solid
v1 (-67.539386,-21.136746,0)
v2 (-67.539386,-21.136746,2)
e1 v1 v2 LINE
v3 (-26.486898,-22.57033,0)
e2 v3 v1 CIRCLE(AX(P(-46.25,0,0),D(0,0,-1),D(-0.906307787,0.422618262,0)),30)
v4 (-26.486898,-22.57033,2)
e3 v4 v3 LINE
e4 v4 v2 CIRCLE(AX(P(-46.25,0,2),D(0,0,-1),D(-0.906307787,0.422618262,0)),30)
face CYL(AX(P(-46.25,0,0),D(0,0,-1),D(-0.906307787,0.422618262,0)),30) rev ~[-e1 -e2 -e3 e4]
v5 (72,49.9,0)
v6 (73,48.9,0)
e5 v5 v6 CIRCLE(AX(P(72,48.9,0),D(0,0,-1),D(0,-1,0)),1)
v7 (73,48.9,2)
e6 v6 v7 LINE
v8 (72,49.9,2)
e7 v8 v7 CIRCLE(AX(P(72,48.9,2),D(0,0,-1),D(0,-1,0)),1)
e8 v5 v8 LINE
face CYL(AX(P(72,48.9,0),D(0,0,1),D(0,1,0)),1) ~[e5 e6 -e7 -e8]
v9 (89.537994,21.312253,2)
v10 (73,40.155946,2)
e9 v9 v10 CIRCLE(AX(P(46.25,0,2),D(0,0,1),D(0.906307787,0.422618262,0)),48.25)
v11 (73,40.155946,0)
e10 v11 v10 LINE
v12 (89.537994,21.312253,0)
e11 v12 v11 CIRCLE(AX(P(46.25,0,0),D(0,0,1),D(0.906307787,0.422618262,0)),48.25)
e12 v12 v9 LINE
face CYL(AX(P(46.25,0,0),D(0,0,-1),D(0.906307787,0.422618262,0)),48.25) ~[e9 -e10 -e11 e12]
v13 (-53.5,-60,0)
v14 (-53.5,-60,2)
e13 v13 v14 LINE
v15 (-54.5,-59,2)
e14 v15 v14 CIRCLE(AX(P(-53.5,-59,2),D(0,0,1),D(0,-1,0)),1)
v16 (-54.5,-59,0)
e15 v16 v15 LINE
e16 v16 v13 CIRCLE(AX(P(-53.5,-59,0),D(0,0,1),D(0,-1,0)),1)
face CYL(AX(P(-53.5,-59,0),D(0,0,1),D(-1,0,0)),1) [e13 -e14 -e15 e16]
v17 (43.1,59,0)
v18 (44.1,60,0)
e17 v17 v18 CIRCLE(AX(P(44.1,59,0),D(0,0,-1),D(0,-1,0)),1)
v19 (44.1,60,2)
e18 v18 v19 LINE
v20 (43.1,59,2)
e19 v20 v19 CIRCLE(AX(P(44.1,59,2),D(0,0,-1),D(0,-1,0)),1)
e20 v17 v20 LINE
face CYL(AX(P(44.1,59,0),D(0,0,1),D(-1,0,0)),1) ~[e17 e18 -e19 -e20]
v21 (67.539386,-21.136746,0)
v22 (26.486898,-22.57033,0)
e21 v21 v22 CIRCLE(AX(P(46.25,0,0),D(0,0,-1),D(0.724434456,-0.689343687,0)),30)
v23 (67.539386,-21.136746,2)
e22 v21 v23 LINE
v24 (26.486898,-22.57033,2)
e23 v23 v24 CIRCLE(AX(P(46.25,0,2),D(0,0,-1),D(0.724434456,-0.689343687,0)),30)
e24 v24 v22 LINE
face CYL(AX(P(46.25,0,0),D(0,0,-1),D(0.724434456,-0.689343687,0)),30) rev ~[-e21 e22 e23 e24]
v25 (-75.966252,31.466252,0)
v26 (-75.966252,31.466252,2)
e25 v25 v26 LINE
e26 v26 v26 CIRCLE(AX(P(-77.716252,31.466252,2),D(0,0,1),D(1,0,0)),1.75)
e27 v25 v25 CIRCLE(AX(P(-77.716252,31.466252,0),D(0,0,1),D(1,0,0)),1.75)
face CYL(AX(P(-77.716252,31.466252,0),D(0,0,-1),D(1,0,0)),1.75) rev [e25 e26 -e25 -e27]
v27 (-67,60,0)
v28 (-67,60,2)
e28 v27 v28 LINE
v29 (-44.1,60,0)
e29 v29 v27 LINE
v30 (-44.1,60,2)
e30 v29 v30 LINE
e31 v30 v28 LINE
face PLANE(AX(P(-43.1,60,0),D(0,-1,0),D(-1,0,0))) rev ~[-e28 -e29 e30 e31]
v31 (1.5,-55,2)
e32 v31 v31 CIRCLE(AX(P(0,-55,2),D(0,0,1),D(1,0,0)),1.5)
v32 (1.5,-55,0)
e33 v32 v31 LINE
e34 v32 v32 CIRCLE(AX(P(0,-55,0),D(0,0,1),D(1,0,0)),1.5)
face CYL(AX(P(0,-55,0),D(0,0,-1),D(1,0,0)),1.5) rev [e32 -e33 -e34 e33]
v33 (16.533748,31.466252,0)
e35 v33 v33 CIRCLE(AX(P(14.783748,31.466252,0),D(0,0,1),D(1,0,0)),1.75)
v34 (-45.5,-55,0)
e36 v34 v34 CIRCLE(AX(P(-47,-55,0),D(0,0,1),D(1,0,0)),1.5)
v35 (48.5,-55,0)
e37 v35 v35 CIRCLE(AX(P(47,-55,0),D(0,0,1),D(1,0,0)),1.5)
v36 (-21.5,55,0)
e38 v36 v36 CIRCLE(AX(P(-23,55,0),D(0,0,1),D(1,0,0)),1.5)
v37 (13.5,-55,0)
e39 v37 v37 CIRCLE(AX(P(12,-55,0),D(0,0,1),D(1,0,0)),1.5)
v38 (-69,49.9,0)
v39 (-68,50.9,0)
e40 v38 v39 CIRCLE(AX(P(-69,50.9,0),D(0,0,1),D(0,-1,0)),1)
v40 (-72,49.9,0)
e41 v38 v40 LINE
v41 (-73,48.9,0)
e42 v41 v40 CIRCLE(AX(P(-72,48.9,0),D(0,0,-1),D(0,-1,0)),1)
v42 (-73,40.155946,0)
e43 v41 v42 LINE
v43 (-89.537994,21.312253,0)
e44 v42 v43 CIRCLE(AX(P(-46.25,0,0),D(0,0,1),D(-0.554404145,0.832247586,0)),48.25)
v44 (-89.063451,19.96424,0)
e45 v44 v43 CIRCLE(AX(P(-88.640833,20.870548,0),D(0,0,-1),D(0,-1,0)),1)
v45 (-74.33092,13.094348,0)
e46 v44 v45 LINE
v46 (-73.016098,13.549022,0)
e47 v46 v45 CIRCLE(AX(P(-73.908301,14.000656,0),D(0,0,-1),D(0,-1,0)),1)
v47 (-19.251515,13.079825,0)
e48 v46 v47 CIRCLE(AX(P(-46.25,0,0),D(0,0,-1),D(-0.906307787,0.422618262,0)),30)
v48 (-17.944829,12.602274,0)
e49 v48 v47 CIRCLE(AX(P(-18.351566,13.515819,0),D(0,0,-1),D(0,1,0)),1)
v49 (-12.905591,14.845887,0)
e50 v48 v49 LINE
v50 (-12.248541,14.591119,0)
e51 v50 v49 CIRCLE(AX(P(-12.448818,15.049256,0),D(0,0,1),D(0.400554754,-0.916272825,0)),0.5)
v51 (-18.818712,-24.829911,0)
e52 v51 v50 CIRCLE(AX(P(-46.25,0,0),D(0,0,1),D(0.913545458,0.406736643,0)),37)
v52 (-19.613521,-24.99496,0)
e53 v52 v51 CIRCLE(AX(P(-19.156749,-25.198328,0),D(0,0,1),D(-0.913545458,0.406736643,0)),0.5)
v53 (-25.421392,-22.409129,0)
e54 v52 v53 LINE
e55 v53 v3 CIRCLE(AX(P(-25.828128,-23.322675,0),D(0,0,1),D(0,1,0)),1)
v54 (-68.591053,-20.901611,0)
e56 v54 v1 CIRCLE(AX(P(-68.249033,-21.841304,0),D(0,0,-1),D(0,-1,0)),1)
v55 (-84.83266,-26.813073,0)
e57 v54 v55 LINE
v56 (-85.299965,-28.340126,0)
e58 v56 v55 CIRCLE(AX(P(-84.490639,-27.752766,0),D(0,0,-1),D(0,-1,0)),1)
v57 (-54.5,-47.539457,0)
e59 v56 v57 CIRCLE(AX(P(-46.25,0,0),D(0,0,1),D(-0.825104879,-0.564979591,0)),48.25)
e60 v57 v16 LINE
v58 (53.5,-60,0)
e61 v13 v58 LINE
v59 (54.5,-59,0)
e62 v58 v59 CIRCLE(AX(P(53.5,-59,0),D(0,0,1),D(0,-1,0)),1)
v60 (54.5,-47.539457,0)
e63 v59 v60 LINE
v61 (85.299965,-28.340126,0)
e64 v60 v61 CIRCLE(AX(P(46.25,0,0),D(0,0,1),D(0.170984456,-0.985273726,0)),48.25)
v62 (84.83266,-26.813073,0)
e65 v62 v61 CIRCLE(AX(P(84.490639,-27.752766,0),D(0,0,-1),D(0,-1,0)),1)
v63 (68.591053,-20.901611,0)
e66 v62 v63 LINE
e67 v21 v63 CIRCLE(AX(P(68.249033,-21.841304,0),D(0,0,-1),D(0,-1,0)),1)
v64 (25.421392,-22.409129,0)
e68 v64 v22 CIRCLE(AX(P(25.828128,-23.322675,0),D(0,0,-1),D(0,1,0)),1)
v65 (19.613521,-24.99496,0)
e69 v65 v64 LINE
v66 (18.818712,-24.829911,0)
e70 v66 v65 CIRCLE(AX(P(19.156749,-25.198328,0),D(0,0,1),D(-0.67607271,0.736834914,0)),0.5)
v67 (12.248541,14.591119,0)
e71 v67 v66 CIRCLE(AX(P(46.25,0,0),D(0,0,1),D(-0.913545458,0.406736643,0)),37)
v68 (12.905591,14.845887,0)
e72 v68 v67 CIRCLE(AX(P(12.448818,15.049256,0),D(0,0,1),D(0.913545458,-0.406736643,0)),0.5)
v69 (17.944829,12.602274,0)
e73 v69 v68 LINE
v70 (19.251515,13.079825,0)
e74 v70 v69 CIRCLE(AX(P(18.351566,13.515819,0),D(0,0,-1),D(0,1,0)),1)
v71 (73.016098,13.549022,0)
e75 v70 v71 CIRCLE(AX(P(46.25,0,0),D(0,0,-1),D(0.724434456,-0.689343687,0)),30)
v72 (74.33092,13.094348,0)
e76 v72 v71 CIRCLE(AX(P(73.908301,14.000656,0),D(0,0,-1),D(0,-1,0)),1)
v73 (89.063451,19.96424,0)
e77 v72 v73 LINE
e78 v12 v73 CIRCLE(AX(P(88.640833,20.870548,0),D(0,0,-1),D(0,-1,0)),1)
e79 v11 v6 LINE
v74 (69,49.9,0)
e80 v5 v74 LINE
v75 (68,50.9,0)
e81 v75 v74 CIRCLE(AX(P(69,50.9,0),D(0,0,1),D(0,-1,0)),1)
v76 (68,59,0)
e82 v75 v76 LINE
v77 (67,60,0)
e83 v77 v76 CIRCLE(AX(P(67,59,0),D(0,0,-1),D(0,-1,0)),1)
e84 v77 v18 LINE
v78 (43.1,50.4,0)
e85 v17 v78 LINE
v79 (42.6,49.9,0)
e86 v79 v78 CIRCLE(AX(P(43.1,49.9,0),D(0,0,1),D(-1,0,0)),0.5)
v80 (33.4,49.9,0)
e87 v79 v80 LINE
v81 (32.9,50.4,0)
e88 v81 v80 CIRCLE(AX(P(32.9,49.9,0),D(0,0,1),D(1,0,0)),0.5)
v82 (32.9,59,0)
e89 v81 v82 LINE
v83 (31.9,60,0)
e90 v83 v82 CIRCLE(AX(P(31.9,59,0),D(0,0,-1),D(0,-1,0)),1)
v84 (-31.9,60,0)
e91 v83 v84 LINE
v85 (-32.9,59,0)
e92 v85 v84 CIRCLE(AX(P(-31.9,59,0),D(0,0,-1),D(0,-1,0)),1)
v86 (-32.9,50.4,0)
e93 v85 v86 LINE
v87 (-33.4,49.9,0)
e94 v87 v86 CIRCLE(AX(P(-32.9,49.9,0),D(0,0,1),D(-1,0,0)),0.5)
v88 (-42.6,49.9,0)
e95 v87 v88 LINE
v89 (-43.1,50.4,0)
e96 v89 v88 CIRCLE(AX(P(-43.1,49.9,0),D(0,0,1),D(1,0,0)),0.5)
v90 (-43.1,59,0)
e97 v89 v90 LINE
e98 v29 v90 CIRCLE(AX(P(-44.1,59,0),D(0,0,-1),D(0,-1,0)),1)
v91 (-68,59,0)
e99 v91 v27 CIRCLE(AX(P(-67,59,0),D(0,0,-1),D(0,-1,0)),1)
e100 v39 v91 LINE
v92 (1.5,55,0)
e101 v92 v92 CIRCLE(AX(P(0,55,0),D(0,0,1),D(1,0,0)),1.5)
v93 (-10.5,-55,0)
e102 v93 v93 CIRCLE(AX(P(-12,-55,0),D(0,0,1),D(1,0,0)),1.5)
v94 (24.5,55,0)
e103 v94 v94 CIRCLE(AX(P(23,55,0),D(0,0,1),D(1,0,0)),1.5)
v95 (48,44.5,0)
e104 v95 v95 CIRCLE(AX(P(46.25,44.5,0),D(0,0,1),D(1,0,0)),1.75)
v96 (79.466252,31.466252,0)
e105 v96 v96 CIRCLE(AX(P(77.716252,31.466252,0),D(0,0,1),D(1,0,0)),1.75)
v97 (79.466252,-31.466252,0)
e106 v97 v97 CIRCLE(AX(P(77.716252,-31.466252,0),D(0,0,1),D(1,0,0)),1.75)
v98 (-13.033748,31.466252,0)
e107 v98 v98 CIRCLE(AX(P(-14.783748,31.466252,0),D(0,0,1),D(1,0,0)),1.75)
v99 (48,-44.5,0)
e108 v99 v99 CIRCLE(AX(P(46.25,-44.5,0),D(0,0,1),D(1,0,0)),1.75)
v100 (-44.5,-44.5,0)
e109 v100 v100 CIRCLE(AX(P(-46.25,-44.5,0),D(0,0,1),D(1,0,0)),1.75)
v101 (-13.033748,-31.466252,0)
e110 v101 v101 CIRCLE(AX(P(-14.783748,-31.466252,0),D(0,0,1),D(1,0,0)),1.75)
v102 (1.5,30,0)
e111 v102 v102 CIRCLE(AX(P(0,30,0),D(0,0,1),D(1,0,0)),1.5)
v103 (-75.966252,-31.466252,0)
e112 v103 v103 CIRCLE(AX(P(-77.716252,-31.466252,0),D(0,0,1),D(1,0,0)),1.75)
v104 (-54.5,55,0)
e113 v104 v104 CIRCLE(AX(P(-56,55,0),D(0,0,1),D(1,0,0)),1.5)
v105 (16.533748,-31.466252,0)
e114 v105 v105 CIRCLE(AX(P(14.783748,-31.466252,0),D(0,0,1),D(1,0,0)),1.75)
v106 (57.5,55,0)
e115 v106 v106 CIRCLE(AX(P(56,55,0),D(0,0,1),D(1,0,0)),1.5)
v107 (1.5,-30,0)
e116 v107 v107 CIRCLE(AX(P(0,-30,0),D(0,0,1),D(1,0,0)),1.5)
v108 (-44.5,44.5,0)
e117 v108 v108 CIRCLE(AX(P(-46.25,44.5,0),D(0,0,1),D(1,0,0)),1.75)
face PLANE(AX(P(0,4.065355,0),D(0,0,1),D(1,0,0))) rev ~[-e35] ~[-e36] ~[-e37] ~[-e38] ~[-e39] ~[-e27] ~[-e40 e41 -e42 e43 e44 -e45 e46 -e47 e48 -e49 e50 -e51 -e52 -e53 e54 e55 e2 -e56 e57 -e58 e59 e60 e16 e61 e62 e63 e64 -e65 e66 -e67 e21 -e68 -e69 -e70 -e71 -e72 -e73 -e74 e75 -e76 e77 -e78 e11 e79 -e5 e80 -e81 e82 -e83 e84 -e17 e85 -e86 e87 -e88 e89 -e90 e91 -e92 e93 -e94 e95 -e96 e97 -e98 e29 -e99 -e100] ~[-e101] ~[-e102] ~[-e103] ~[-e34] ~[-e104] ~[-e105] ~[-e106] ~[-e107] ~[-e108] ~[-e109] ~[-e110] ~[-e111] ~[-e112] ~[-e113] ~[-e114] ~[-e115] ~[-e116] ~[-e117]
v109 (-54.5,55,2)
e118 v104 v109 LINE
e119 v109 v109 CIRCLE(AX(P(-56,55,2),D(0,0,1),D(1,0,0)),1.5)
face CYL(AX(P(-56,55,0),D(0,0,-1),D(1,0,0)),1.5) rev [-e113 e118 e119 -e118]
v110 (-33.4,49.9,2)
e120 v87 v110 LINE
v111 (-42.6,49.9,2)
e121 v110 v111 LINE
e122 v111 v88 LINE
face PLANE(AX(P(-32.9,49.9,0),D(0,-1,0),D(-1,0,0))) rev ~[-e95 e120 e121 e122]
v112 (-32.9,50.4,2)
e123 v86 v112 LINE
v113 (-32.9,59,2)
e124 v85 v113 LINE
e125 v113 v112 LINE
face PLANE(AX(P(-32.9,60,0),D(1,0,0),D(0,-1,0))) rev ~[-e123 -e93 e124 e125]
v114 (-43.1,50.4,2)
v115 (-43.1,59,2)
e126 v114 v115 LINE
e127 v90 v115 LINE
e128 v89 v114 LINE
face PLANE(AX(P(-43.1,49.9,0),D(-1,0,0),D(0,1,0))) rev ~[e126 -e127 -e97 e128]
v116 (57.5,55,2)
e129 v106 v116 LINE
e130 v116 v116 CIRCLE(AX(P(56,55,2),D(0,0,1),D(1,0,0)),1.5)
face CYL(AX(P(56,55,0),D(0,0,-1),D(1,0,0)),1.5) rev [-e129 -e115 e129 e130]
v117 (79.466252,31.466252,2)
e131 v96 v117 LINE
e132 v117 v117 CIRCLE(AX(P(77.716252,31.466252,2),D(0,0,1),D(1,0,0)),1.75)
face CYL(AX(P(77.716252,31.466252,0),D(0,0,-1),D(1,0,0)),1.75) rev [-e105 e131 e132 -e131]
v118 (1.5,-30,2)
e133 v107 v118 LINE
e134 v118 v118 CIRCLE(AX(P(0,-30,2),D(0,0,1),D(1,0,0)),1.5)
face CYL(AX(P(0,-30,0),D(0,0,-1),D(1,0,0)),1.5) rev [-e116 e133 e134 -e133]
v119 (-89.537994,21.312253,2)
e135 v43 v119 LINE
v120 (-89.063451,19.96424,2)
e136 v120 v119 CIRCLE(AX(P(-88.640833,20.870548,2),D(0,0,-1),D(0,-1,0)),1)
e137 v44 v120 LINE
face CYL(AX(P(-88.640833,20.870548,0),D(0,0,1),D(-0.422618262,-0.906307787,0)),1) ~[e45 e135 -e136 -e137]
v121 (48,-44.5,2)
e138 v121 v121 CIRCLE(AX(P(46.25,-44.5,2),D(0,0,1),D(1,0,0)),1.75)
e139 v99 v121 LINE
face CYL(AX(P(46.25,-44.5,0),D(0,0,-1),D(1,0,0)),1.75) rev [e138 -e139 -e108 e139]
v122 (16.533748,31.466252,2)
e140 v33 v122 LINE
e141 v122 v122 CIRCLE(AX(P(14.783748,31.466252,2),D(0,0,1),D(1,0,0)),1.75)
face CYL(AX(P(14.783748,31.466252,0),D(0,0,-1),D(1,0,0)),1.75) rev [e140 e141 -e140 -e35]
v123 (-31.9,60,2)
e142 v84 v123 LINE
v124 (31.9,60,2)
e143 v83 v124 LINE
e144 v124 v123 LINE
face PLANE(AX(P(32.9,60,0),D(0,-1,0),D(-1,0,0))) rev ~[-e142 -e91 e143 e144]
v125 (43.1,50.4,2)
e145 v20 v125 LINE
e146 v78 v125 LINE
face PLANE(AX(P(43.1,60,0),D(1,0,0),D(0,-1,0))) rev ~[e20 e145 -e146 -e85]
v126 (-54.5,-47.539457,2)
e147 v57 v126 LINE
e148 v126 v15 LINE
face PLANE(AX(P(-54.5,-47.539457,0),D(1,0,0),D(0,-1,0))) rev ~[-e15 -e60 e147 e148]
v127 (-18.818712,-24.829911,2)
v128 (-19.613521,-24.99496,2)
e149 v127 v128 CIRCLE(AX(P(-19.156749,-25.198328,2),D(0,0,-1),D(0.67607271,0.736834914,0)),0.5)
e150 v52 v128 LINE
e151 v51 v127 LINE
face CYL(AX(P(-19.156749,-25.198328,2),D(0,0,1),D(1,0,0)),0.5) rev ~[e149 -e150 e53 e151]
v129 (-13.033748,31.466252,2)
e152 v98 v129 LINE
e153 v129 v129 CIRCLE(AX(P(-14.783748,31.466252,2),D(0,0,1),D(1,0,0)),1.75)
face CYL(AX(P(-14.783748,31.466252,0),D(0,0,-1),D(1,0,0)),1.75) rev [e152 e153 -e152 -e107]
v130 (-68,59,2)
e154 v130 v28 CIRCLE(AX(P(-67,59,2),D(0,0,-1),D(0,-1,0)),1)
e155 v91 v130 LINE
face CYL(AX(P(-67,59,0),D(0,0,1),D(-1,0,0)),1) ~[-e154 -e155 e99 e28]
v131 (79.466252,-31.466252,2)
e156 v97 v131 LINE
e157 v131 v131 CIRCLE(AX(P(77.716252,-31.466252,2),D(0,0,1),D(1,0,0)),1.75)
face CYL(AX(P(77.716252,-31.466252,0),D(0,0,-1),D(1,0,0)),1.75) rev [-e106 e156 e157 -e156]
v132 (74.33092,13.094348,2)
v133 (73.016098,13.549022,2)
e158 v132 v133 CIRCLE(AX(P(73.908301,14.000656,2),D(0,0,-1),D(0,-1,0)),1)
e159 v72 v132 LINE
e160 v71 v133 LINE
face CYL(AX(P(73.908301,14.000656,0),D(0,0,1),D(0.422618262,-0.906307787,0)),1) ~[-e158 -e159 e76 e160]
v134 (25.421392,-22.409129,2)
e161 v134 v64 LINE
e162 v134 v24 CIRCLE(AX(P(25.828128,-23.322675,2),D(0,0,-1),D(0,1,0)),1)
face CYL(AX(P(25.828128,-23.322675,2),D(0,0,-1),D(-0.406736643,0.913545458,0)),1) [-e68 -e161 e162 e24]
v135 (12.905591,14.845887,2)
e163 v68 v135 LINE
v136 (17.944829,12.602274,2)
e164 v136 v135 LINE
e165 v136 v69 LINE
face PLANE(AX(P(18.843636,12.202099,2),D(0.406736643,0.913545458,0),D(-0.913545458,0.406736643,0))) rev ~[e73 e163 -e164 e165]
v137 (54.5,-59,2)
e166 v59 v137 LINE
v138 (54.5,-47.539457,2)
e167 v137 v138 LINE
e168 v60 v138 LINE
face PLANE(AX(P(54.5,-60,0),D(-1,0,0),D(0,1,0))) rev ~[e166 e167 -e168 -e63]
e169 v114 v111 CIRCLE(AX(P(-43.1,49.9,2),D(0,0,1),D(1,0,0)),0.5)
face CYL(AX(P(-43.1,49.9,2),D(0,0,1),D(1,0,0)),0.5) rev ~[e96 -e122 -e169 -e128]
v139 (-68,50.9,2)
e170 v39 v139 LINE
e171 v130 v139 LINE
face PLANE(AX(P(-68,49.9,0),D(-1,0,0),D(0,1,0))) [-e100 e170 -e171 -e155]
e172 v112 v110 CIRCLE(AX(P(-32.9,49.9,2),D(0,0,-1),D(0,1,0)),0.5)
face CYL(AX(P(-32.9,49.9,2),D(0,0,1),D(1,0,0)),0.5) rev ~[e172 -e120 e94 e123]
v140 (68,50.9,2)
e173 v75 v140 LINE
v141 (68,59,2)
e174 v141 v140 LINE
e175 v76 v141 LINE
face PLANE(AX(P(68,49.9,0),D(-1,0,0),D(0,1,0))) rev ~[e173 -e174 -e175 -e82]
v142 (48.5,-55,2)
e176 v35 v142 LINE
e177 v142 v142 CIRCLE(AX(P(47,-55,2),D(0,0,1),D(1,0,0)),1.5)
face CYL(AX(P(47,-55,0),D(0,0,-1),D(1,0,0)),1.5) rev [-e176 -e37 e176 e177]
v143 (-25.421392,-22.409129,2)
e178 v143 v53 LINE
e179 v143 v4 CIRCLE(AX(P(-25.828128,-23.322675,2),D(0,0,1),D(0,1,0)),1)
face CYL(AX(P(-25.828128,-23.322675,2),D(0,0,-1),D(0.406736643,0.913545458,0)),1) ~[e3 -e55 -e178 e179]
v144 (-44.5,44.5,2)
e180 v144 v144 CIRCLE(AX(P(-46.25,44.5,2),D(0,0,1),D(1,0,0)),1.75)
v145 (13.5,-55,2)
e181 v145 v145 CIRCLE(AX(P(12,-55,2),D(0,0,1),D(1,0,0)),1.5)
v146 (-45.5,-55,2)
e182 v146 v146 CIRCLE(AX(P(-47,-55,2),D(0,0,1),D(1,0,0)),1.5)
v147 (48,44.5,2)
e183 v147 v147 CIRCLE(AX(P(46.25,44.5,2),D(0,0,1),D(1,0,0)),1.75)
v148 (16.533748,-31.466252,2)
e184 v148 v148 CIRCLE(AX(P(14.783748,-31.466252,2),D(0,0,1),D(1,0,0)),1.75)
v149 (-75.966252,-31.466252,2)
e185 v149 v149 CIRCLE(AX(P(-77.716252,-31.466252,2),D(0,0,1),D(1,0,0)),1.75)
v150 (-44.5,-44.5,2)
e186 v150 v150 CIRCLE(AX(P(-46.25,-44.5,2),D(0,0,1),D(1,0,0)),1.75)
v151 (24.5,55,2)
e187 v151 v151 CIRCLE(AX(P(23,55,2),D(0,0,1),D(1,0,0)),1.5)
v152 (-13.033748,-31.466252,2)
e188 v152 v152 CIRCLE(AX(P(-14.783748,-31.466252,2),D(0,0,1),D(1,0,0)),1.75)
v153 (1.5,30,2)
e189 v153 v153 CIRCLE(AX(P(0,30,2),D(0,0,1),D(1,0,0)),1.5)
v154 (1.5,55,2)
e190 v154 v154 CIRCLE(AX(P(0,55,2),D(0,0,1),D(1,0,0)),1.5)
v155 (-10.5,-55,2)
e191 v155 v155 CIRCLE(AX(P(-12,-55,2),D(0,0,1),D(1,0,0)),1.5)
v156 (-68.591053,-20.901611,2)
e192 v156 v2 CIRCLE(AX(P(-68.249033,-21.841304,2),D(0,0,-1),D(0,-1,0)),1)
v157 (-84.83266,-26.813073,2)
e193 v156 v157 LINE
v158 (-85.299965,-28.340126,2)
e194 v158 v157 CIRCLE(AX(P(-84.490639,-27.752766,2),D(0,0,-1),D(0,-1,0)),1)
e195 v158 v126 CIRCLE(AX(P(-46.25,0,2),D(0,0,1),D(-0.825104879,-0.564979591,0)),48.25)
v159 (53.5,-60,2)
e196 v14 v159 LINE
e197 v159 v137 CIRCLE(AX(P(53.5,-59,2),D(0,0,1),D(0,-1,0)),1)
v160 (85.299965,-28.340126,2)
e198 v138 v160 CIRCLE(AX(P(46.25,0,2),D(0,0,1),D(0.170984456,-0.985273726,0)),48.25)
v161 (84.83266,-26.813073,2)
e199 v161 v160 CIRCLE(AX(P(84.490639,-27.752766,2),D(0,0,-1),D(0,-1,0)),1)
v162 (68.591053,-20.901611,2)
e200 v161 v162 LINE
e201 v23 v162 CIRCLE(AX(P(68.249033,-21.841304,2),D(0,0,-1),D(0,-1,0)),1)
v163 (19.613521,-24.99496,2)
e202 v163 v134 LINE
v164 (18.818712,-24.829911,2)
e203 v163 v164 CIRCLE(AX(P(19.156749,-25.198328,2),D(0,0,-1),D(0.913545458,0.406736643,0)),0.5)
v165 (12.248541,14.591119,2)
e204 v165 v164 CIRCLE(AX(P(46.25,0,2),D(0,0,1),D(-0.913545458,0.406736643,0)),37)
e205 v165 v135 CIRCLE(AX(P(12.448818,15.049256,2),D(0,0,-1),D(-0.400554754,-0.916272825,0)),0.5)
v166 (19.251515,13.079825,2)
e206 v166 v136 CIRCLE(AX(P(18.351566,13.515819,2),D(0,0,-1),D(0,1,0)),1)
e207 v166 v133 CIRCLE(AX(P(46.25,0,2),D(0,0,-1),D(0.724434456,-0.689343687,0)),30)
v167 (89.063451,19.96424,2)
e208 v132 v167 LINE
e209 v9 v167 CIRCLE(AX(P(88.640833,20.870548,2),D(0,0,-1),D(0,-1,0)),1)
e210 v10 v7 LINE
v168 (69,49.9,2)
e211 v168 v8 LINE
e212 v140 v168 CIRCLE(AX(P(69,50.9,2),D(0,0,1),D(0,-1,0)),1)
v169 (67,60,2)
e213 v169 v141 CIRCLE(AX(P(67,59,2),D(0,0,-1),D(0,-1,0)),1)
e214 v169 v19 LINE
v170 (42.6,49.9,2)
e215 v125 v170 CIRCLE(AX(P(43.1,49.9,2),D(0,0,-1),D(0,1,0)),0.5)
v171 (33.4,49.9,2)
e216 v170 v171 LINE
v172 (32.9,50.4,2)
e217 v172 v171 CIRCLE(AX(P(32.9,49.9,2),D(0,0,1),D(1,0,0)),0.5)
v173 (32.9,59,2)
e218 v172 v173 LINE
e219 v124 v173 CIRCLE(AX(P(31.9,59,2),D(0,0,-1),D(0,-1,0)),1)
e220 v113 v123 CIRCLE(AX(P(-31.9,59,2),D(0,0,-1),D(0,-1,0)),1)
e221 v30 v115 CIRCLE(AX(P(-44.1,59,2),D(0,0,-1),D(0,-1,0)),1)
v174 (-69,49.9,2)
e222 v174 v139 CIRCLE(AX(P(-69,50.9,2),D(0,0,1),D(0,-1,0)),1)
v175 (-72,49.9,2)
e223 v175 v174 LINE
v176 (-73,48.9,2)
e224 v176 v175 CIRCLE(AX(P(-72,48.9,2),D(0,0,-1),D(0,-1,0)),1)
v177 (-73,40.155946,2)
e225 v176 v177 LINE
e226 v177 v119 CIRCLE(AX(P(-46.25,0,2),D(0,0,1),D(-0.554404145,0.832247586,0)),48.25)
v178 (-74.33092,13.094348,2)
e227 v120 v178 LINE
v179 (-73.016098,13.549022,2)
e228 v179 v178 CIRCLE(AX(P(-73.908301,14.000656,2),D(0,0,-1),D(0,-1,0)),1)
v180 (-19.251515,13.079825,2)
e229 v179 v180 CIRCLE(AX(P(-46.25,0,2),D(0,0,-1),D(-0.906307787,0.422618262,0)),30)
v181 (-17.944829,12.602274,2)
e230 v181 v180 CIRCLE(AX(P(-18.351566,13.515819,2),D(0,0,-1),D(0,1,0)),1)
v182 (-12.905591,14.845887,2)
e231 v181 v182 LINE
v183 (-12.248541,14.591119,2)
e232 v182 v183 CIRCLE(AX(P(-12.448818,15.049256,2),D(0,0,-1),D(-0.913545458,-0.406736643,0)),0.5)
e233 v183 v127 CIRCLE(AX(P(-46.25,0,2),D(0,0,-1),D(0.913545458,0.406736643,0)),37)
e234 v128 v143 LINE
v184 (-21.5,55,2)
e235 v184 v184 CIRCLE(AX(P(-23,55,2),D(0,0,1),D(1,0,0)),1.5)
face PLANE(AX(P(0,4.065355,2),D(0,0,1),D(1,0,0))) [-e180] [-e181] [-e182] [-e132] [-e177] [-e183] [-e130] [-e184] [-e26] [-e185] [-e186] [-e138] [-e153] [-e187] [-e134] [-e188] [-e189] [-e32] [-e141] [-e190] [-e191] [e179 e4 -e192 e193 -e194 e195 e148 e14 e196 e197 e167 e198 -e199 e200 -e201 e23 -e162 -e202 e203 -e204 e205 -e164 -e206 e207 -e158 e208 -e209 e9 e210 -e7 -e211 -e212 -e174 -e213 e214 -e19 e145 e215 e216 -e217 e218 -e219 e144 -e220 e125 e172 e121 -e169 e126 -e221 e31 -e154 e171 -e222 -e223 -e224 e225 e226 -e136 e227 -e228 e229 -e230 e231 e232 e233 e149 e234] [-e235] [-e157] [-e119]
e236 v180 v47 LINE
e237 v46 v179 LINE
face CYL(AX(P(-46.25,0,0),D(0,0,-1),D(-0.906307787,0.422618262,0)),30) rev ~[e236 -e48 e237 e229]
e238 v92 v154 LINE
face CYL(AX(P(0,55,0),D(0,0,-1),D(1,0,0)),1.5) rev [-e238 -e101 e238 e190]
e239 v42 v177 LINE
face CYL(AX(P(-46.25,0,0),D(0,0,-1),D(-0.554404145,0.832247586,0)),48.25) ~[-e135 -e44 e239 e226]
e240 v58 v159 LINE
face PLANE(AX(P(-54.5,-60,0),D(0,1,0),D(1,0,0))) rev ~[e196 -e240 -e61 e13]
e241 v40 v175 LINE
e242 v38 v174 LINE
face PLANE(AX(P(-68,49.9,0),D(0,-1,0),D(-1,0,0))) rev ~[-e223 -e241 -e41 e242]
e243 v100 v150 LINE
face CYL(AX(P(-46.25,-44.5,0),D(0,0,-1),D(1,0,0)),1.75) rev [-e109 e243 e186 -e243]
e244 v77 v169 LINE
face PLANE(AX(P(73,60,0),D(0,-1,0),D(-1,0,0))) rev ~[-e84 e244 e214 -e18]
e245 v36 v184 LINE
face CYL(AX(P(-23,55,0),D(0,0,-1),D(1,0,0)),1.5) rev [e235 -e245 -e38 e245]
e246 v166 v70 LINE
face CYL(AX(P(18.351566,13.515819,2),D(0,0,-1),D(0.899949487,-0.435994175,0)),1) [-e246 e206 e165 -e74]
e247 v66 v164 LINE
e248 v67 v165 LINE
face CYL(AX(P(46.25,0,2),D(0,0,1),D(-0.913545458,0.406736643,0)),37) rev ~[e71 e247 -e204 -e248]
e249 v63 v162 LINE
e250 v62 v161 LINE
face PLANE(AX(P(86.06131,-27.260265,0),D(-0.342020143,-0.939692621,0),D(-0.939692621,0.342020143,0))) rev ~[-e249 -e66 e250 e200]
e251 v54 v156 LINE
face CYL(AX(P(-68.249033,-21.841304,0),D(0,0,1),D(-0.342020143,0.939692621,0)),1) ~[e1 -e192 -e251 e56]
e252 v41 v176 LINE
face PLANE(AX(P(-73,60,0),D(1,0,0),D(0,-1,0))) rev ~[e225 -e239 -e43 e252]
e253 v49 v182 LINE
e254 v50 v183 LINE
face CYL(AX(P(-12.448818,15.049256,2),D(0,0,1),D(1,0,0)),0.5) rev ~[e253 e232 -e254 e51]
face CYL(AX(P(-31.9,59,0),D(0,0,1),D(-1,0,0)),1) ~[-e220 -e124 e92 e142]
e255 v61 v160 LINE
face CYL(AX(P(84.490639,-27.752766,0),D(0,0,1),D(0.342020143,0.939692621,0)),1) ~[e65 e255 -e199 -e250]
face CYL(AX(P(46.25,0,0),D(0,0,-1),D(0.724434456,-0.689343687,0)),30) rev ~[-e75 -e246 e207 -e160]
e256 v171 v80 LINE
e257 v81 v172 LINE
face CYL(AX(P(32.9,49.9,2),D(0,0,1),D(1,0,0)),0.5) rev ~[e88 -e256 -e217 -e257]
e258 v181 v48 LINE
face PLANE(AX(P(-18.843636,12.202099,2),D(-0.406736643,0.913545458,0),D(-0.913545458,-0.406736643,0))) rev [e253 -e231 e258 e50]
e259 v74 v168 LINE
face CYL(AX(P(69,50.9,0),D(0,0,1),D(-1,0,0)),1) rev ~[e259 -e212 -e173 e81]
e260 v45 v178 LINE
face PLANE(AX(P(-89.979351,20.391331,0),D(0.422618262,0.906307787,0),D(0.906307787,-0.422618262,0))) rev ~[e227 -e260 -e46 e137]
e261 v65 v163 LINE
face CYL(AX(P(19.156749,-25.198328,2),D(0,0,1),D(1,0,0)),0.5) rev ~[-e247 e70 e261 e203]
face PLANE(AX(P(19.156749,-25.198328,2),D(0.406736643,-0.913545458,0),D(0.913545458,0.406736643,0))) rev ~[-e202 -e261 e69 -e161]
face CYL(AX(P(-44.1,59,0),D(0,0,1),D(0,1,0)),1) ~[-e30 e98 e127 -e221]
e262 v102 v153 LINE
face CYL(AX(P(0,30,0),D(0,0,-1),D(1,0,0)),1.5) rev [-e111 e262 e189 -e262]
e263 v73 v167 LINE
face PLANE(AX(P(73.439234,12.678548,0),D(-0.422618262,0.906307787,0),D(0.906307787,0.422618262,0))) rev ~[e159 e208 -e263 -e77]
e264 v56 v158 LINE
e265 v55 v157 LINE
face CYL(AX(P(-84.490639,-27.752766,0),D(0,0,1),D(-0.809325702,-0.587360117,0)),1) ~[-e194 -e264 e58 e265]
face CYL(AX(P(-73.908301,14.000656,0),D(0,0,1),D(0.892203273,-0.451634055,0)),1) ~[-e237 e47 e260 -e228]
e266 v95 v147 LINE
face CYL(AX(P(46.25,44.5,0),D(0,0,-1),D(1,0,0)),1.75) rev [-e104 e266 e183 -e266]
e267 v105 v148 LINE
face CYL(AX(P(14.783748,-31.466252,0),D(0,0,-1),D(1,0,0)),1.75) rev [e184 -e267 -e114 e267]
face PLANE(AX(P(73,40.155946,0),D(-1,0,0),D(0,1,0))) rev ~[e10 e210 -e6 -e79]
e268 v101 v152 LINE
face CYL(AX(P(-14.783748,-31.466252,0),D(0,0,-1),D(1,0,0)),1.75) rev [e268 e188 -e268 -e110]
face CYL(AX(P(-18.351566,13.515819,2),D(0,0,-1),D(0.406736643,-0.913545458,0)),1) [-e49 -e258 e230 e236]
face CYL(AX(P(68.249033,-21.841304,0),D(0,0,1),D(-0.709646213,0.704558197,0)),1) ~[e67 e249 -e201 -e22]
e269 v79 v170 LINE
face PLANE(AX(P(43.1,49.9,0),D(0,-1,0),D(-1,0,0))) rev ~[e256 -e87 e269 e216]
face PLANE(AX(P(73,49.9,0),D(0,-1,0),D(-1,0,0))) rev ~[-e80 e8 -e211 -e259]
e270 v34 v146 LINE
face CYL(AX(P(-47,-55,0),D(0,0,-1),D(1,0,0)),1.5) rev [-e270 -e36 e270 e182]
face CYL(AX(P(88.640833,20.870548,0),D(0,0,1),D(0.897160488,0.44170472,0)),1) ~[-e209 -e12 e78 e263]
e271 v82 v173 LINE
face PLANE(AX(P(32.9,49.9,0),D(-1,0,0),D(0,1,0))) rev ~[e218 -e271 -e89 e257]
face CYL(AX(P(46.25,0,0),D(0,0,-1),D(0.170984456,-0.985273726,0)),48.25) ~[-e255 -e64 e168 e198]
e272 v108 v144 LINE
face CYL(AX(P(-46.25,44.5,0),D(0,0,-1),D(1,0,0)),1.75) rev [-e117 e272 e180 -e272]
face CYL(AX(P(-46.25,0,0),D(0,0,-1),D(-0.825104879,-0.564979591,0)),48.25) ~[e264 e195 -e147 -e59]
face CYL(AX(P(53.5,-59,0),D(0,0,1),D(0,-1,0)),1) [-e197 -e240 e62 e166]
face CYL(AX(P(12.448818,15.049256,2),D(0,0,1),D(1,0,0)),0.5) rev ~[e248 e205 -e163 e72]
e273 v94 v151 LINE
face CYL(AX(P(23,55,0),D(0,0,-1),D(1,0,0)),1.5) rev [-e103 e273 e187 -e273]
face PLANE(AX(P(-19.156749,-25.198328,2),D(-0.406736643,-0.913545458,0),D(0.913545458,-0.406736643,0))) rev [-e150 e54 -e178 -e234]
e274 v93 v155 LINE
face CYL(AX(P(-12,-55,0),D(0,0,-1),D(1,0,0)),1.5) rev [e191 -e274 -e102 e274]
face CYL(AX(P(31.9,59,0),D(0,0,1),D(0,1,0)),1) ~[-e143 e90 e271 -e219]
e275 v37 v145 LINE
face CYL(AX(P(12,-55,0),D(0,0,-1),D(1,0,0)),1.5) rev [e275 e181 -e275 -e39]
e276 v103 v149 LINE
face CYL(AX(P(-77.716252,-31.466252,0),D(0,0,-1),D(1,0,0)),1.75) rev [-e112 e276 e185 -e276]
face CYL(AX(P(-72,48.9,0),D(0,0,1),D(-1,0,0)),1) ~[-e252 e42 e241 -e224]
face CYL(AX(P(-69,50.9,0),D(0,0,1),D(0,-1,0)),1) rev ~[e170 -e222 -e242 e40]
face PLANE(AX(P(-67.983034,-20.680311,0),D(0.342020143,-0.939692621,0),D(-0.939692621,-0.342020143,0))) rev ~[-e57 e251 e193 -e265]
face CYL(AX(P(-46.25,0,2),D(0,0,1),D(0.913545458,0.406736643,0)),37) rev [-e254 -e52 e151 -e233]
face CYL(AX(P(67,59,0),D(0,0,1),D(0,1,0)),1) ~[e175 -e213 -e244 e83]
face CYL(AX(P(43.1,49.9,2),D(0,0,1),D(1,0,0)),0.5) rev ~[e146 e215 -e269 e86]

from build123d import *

# Parameters (mm, degrees)
SKETCH_1_R          = 1.5
SKETCH_1_R_2        = 1.75
EXTRUDE_1_DEPTH     = 2
CUT_EXTRUDE_3_DEPTH = 10
SKETCH_2_R          = 0.5
CUT_EXTRUDE_1_DEPTH = 10
SKETCH_8_W          = 5
SKETCH_8_H          = 10.1
CUT_EXTRUDE_4_DEPTH = 10
FILLET_2_R          = 1


with BuildPart() as part:
    # 草图1 → 凸台-拉伸1 (new body)
    with BuildSketch(Plane.XY):
        with BuildLine():
            Line((-54.5, -47.539457296), (-54.5, -60))
            Line((-54.5, -60), (54.5, -60))
            Line((54.5, -60), (54.5, -47.539457296))
            ThreePointArc((54.5, -47.539457296), (72.332250623, -40.592840532), (86.061310432, -27.260265254))
            Line((86.061310432, -27.260265254), (67.983033669, -20.680310625))
            ThreePointArc((67.983033669, -20.680310625), (16.643405824, 4.842476776), (73.439233611, 12.678547852))
            Line((73.439233611, 12.678547852), (89.979350725, 20.391331129))
            ThreePointArc((89.979350725, 20.391331129), (82.849108186, 31.441497738), (73, 40.155946011))
            Line((73, 40.155946011), (73, 60))
            Line((73, 60), (43.1, 60))
            Line((43.1, 60), (43.1, 49.9))
            Line((43.1, 49.9), (32.9, 49.9))
            Line((32.9, 49.9), (32.9, 60))
            Line((32.9, 60), (-32.9, 60))
            Line((-32.9, 60), (-32.9, 49.9))
            Line((-32.9, 49.9), (-43.1, 49.9))
            Line((-43.1, 49.9), (-43.1, 60))
            Line((-43.1, 60), (-73, 60))
            Line((-73, 60), (-73, 40.155946011))
            ThreePointArc((-73, 40.155946011), (-82.849108186, 31.441497738), (-89.979350725, 20.391331129))
            Line((-89.979350725, 20.391331129), (-73.439233611, 12.678547852))
            ThreePointArc((-73.439233611, 12.678547852), (-16.643405824, 4.842476776), (-67.983033669, -20.680310625))
            Line((-67.983033669, -20.680310625), (-86.061310432, -27.260265254))
            ThreePointArc((-86.061310432, -27.260265254), (-72.332250623, -40.592840532), (-54.5, -47.539457296))
        make_face()
        with Locations((-47, -55)):
            Circle(SKETCH_1_R, mode=Mode.SUBTRACT)
        with Locations((-77.716251763, -31.466251763)):
            Circle(SKETCH_1_R_2, mode=Mode.SUBTRACT)
        with Locations((-46.25, -44.5)):
            Circle(SKETCH_1_R_2, mode=Mode.SUBTRACT)
        with Locations((-12, -55)):
            Circle(SKETCH_1_R, mode=Mode.SUBTRACT)
        with Locations((-14.783748237, -31.466251763)):
            Circle(SKETCH_1_R_2, mode=Mode.SUBTRACT)
        with Locations((0, -55)):
            Circle(SKETCH_1_R, mode=Mode.SUBTRACT)
        with Locations((12, -55)):
            Circle(SKETCH_1_R, mode=Mode.SUBTRACT)
        with Locations((0, -30)):
            Circle(SKETCH_1_R, mode=Mode.SUBTRACT)
        with Locations((14.783748237, -31.466251763)):
            Circle(SKETCH_1_R_2, mode=Mode.SUBTRACT)
        with Locations((47, -55)):
            Circle(SKETCH_1_R, mode=Mode.SUBTRACT)
        with Locations((46.25, -44.5)):
            Circle(SKETCH_1_R_2, mode=Mode.SUBTRACT)
        with Locations((77.716251763, -31.466251763)):
            Circle(SKETCH_1_R_2, mode=Mode.SUBTRACT)
        with Locations((-77.716251763, 31.466251763)):
            Circle(SKETCH_1_R_2, mode=Mode.SUBTRACT)
        with Locations((-46.25, 44.5)):
            Circle(SKETCH_1_R_2, mode=Mode.SUBTRACT)
        with Locations((-56, 55)):
            Circle(SKETCH_1_R, mode=Mode.SUBTRACT)
        with Locations((-14.783748237, 31.466251763)):
            Circle(SKETCH_1_R_2, mode=Mode.SUBTRACT)
        with Locations((-23, 55)):
            Circle(SKETCH_1_R, mode=Mode.SUBTRACT)
        with Locations((0, 30)):
            Circle(SKETCH_1_R, mode=Mode.SUBTRACT)
        with Locations((14.783748237, 31.466251763)):
            Circle(SKETCH_1_R_2, mode=Mode.SUBTRACT)
        with Locations((0, 55)):
            Circle(SKETCH_1_R, mode=Mode.SUBTRACT)
        with Locations((23, 55)):
            Circle(SKETCH_1_R, mode=Mode.SUBTRACT)
        with Locations((46.25, 44.5)):
            Circle(SKETCH_1_R_2, mode=Mode.SUBTRACT)
        with Locations((77.716251763, 31.466251763)):
            Circle(SKETCH_1_R_2, mode=Mode.SUBTRACT)
        with Locations((56, 55)):
            Circle(SKETCH_1_R, mode=Mode.SUBTRACT)
    extrude(amount=EXTRUDE_1_DEPTH)

    # 草图7 → 切除-拉伸3 (cut)
    with BuildSketch(Plane.XY.offset(2)):
        with BuildLine():
            Line((19.156748699, -25.198327999), (26.012492454, -22.145954221))
            ThreePointArc((26.012492454, -22.145954221), (16.882810612, -6.129289311), (18.843636271, 12.202099292))
            Line((18.843636271, 12.202099292), (12.448818067, 15.049255794))
            ThreePointArc((12.448818067, 15.049255794), (9.753424818, -6.08276253), (19.156748699, -25.198327999))
        make_face()
    cut_extrude_3 = extrude(amount=-CUT_EXTRUDE_3_DEPTH, mode=Mode.SUBTRACT)

    # 镜向2: 切除-拉伸3 across plane
    add(cut_extrude_3.mirror(Plane(origin=(0, 0, 0), x_dir=(0, 0, 1), z_dir=(1, 0, 0))), mode=Mode.SUBTRACT)

    # 草图2 → 切除-拉伸1 (cut)
    with BuildSketch(Plane.XY.offset(2)):
        with Locations((-43.1, 49.9)):
            Circle(SKETCH_2_R)
        with Locations((-32.9, 49.9)):
            Circle(SKETCH_2_R)
        with Locations((32.9, 49.9)):
            Circle(SKETCH_2_R)
        with Locations((43.1, 49.9)):
            Circle(SKETCH_2_R)
        with Locations((-12.448818067, 15.049255794)):
            Circle(SKETCH_2_R)
        with Locations((12.448818067, 15.049255794)):
            Circle(SKETCH_2_R)
        with Locations((-19.156748699, -25.198327999)):
            Circle(SKETCH_2_R)
        with Locations((19.156748699, -25.198327999)):
            Circle(SKETCH_2_R)
    extrude(amount=-CUT_EXTRUDE_1_DEPTH, mode=Mode.SUBTRACT)

    # 草图8 → 切除-拉伸4 (cut)
    with BuildSketch(Plane(origin=(0, 0, 0), x_dir=(-1, 0, 0), z_dir=(0, 0, -1))):
        with Locations((70.5, 54.95)):
            Rectangle(SKETCH_8_W, SKETCH_8_H)
        with Locations((-70.5, 54.95)):
            Rectangle(SKETCH_8_W, SKETCH_8_H)
    extrude(amount=-CUT_EXTRUDE_4_DEPTH, mode=Mode.SUBTRACT)

    # 圆角2
    fillet_2_edges = [part.edges().sort_by_distance(p)[0] for p in [
        (18.843636271, 12.202099292, 1),
        (26.012492454, -22.145954221, 1),
        (-26.012492454, -22.145954221, 1),
        (-18.843636271, 12.202099292, 1),
        (-73, 49.9, 1),
        (68, 60, 1),
        (-68, 49.9, 1),
        (-68, 60, 1),
        (68, 49.9, 1),
        (73, 49.9, 1),
        (-67.983033669, -20.680310625, 1),
        (-73.439233611, 12.678547852, 1),
        (-89.979350725, 20.391331129, 1),
        (-43.1, 60, 1),
        (-32.9, 60, 1),
        (32.9, 60, 1),
        (43.1, 60, 1),
        (89.979350725, 20.391331129, 1),
        (73.439233611, 12.678547852, 1),
        (67.983033669, -20.680310625, 1),
        (86.061310432, -27.260265254, 1),
        (54.5, -60, 1),
        (-54.5, -60, 1),
        (-86.061310432, -27.260265254, 1),
    ]]
    fillet(fillet_2_edges, radius=FILLET_2_R)


solid = part.part
